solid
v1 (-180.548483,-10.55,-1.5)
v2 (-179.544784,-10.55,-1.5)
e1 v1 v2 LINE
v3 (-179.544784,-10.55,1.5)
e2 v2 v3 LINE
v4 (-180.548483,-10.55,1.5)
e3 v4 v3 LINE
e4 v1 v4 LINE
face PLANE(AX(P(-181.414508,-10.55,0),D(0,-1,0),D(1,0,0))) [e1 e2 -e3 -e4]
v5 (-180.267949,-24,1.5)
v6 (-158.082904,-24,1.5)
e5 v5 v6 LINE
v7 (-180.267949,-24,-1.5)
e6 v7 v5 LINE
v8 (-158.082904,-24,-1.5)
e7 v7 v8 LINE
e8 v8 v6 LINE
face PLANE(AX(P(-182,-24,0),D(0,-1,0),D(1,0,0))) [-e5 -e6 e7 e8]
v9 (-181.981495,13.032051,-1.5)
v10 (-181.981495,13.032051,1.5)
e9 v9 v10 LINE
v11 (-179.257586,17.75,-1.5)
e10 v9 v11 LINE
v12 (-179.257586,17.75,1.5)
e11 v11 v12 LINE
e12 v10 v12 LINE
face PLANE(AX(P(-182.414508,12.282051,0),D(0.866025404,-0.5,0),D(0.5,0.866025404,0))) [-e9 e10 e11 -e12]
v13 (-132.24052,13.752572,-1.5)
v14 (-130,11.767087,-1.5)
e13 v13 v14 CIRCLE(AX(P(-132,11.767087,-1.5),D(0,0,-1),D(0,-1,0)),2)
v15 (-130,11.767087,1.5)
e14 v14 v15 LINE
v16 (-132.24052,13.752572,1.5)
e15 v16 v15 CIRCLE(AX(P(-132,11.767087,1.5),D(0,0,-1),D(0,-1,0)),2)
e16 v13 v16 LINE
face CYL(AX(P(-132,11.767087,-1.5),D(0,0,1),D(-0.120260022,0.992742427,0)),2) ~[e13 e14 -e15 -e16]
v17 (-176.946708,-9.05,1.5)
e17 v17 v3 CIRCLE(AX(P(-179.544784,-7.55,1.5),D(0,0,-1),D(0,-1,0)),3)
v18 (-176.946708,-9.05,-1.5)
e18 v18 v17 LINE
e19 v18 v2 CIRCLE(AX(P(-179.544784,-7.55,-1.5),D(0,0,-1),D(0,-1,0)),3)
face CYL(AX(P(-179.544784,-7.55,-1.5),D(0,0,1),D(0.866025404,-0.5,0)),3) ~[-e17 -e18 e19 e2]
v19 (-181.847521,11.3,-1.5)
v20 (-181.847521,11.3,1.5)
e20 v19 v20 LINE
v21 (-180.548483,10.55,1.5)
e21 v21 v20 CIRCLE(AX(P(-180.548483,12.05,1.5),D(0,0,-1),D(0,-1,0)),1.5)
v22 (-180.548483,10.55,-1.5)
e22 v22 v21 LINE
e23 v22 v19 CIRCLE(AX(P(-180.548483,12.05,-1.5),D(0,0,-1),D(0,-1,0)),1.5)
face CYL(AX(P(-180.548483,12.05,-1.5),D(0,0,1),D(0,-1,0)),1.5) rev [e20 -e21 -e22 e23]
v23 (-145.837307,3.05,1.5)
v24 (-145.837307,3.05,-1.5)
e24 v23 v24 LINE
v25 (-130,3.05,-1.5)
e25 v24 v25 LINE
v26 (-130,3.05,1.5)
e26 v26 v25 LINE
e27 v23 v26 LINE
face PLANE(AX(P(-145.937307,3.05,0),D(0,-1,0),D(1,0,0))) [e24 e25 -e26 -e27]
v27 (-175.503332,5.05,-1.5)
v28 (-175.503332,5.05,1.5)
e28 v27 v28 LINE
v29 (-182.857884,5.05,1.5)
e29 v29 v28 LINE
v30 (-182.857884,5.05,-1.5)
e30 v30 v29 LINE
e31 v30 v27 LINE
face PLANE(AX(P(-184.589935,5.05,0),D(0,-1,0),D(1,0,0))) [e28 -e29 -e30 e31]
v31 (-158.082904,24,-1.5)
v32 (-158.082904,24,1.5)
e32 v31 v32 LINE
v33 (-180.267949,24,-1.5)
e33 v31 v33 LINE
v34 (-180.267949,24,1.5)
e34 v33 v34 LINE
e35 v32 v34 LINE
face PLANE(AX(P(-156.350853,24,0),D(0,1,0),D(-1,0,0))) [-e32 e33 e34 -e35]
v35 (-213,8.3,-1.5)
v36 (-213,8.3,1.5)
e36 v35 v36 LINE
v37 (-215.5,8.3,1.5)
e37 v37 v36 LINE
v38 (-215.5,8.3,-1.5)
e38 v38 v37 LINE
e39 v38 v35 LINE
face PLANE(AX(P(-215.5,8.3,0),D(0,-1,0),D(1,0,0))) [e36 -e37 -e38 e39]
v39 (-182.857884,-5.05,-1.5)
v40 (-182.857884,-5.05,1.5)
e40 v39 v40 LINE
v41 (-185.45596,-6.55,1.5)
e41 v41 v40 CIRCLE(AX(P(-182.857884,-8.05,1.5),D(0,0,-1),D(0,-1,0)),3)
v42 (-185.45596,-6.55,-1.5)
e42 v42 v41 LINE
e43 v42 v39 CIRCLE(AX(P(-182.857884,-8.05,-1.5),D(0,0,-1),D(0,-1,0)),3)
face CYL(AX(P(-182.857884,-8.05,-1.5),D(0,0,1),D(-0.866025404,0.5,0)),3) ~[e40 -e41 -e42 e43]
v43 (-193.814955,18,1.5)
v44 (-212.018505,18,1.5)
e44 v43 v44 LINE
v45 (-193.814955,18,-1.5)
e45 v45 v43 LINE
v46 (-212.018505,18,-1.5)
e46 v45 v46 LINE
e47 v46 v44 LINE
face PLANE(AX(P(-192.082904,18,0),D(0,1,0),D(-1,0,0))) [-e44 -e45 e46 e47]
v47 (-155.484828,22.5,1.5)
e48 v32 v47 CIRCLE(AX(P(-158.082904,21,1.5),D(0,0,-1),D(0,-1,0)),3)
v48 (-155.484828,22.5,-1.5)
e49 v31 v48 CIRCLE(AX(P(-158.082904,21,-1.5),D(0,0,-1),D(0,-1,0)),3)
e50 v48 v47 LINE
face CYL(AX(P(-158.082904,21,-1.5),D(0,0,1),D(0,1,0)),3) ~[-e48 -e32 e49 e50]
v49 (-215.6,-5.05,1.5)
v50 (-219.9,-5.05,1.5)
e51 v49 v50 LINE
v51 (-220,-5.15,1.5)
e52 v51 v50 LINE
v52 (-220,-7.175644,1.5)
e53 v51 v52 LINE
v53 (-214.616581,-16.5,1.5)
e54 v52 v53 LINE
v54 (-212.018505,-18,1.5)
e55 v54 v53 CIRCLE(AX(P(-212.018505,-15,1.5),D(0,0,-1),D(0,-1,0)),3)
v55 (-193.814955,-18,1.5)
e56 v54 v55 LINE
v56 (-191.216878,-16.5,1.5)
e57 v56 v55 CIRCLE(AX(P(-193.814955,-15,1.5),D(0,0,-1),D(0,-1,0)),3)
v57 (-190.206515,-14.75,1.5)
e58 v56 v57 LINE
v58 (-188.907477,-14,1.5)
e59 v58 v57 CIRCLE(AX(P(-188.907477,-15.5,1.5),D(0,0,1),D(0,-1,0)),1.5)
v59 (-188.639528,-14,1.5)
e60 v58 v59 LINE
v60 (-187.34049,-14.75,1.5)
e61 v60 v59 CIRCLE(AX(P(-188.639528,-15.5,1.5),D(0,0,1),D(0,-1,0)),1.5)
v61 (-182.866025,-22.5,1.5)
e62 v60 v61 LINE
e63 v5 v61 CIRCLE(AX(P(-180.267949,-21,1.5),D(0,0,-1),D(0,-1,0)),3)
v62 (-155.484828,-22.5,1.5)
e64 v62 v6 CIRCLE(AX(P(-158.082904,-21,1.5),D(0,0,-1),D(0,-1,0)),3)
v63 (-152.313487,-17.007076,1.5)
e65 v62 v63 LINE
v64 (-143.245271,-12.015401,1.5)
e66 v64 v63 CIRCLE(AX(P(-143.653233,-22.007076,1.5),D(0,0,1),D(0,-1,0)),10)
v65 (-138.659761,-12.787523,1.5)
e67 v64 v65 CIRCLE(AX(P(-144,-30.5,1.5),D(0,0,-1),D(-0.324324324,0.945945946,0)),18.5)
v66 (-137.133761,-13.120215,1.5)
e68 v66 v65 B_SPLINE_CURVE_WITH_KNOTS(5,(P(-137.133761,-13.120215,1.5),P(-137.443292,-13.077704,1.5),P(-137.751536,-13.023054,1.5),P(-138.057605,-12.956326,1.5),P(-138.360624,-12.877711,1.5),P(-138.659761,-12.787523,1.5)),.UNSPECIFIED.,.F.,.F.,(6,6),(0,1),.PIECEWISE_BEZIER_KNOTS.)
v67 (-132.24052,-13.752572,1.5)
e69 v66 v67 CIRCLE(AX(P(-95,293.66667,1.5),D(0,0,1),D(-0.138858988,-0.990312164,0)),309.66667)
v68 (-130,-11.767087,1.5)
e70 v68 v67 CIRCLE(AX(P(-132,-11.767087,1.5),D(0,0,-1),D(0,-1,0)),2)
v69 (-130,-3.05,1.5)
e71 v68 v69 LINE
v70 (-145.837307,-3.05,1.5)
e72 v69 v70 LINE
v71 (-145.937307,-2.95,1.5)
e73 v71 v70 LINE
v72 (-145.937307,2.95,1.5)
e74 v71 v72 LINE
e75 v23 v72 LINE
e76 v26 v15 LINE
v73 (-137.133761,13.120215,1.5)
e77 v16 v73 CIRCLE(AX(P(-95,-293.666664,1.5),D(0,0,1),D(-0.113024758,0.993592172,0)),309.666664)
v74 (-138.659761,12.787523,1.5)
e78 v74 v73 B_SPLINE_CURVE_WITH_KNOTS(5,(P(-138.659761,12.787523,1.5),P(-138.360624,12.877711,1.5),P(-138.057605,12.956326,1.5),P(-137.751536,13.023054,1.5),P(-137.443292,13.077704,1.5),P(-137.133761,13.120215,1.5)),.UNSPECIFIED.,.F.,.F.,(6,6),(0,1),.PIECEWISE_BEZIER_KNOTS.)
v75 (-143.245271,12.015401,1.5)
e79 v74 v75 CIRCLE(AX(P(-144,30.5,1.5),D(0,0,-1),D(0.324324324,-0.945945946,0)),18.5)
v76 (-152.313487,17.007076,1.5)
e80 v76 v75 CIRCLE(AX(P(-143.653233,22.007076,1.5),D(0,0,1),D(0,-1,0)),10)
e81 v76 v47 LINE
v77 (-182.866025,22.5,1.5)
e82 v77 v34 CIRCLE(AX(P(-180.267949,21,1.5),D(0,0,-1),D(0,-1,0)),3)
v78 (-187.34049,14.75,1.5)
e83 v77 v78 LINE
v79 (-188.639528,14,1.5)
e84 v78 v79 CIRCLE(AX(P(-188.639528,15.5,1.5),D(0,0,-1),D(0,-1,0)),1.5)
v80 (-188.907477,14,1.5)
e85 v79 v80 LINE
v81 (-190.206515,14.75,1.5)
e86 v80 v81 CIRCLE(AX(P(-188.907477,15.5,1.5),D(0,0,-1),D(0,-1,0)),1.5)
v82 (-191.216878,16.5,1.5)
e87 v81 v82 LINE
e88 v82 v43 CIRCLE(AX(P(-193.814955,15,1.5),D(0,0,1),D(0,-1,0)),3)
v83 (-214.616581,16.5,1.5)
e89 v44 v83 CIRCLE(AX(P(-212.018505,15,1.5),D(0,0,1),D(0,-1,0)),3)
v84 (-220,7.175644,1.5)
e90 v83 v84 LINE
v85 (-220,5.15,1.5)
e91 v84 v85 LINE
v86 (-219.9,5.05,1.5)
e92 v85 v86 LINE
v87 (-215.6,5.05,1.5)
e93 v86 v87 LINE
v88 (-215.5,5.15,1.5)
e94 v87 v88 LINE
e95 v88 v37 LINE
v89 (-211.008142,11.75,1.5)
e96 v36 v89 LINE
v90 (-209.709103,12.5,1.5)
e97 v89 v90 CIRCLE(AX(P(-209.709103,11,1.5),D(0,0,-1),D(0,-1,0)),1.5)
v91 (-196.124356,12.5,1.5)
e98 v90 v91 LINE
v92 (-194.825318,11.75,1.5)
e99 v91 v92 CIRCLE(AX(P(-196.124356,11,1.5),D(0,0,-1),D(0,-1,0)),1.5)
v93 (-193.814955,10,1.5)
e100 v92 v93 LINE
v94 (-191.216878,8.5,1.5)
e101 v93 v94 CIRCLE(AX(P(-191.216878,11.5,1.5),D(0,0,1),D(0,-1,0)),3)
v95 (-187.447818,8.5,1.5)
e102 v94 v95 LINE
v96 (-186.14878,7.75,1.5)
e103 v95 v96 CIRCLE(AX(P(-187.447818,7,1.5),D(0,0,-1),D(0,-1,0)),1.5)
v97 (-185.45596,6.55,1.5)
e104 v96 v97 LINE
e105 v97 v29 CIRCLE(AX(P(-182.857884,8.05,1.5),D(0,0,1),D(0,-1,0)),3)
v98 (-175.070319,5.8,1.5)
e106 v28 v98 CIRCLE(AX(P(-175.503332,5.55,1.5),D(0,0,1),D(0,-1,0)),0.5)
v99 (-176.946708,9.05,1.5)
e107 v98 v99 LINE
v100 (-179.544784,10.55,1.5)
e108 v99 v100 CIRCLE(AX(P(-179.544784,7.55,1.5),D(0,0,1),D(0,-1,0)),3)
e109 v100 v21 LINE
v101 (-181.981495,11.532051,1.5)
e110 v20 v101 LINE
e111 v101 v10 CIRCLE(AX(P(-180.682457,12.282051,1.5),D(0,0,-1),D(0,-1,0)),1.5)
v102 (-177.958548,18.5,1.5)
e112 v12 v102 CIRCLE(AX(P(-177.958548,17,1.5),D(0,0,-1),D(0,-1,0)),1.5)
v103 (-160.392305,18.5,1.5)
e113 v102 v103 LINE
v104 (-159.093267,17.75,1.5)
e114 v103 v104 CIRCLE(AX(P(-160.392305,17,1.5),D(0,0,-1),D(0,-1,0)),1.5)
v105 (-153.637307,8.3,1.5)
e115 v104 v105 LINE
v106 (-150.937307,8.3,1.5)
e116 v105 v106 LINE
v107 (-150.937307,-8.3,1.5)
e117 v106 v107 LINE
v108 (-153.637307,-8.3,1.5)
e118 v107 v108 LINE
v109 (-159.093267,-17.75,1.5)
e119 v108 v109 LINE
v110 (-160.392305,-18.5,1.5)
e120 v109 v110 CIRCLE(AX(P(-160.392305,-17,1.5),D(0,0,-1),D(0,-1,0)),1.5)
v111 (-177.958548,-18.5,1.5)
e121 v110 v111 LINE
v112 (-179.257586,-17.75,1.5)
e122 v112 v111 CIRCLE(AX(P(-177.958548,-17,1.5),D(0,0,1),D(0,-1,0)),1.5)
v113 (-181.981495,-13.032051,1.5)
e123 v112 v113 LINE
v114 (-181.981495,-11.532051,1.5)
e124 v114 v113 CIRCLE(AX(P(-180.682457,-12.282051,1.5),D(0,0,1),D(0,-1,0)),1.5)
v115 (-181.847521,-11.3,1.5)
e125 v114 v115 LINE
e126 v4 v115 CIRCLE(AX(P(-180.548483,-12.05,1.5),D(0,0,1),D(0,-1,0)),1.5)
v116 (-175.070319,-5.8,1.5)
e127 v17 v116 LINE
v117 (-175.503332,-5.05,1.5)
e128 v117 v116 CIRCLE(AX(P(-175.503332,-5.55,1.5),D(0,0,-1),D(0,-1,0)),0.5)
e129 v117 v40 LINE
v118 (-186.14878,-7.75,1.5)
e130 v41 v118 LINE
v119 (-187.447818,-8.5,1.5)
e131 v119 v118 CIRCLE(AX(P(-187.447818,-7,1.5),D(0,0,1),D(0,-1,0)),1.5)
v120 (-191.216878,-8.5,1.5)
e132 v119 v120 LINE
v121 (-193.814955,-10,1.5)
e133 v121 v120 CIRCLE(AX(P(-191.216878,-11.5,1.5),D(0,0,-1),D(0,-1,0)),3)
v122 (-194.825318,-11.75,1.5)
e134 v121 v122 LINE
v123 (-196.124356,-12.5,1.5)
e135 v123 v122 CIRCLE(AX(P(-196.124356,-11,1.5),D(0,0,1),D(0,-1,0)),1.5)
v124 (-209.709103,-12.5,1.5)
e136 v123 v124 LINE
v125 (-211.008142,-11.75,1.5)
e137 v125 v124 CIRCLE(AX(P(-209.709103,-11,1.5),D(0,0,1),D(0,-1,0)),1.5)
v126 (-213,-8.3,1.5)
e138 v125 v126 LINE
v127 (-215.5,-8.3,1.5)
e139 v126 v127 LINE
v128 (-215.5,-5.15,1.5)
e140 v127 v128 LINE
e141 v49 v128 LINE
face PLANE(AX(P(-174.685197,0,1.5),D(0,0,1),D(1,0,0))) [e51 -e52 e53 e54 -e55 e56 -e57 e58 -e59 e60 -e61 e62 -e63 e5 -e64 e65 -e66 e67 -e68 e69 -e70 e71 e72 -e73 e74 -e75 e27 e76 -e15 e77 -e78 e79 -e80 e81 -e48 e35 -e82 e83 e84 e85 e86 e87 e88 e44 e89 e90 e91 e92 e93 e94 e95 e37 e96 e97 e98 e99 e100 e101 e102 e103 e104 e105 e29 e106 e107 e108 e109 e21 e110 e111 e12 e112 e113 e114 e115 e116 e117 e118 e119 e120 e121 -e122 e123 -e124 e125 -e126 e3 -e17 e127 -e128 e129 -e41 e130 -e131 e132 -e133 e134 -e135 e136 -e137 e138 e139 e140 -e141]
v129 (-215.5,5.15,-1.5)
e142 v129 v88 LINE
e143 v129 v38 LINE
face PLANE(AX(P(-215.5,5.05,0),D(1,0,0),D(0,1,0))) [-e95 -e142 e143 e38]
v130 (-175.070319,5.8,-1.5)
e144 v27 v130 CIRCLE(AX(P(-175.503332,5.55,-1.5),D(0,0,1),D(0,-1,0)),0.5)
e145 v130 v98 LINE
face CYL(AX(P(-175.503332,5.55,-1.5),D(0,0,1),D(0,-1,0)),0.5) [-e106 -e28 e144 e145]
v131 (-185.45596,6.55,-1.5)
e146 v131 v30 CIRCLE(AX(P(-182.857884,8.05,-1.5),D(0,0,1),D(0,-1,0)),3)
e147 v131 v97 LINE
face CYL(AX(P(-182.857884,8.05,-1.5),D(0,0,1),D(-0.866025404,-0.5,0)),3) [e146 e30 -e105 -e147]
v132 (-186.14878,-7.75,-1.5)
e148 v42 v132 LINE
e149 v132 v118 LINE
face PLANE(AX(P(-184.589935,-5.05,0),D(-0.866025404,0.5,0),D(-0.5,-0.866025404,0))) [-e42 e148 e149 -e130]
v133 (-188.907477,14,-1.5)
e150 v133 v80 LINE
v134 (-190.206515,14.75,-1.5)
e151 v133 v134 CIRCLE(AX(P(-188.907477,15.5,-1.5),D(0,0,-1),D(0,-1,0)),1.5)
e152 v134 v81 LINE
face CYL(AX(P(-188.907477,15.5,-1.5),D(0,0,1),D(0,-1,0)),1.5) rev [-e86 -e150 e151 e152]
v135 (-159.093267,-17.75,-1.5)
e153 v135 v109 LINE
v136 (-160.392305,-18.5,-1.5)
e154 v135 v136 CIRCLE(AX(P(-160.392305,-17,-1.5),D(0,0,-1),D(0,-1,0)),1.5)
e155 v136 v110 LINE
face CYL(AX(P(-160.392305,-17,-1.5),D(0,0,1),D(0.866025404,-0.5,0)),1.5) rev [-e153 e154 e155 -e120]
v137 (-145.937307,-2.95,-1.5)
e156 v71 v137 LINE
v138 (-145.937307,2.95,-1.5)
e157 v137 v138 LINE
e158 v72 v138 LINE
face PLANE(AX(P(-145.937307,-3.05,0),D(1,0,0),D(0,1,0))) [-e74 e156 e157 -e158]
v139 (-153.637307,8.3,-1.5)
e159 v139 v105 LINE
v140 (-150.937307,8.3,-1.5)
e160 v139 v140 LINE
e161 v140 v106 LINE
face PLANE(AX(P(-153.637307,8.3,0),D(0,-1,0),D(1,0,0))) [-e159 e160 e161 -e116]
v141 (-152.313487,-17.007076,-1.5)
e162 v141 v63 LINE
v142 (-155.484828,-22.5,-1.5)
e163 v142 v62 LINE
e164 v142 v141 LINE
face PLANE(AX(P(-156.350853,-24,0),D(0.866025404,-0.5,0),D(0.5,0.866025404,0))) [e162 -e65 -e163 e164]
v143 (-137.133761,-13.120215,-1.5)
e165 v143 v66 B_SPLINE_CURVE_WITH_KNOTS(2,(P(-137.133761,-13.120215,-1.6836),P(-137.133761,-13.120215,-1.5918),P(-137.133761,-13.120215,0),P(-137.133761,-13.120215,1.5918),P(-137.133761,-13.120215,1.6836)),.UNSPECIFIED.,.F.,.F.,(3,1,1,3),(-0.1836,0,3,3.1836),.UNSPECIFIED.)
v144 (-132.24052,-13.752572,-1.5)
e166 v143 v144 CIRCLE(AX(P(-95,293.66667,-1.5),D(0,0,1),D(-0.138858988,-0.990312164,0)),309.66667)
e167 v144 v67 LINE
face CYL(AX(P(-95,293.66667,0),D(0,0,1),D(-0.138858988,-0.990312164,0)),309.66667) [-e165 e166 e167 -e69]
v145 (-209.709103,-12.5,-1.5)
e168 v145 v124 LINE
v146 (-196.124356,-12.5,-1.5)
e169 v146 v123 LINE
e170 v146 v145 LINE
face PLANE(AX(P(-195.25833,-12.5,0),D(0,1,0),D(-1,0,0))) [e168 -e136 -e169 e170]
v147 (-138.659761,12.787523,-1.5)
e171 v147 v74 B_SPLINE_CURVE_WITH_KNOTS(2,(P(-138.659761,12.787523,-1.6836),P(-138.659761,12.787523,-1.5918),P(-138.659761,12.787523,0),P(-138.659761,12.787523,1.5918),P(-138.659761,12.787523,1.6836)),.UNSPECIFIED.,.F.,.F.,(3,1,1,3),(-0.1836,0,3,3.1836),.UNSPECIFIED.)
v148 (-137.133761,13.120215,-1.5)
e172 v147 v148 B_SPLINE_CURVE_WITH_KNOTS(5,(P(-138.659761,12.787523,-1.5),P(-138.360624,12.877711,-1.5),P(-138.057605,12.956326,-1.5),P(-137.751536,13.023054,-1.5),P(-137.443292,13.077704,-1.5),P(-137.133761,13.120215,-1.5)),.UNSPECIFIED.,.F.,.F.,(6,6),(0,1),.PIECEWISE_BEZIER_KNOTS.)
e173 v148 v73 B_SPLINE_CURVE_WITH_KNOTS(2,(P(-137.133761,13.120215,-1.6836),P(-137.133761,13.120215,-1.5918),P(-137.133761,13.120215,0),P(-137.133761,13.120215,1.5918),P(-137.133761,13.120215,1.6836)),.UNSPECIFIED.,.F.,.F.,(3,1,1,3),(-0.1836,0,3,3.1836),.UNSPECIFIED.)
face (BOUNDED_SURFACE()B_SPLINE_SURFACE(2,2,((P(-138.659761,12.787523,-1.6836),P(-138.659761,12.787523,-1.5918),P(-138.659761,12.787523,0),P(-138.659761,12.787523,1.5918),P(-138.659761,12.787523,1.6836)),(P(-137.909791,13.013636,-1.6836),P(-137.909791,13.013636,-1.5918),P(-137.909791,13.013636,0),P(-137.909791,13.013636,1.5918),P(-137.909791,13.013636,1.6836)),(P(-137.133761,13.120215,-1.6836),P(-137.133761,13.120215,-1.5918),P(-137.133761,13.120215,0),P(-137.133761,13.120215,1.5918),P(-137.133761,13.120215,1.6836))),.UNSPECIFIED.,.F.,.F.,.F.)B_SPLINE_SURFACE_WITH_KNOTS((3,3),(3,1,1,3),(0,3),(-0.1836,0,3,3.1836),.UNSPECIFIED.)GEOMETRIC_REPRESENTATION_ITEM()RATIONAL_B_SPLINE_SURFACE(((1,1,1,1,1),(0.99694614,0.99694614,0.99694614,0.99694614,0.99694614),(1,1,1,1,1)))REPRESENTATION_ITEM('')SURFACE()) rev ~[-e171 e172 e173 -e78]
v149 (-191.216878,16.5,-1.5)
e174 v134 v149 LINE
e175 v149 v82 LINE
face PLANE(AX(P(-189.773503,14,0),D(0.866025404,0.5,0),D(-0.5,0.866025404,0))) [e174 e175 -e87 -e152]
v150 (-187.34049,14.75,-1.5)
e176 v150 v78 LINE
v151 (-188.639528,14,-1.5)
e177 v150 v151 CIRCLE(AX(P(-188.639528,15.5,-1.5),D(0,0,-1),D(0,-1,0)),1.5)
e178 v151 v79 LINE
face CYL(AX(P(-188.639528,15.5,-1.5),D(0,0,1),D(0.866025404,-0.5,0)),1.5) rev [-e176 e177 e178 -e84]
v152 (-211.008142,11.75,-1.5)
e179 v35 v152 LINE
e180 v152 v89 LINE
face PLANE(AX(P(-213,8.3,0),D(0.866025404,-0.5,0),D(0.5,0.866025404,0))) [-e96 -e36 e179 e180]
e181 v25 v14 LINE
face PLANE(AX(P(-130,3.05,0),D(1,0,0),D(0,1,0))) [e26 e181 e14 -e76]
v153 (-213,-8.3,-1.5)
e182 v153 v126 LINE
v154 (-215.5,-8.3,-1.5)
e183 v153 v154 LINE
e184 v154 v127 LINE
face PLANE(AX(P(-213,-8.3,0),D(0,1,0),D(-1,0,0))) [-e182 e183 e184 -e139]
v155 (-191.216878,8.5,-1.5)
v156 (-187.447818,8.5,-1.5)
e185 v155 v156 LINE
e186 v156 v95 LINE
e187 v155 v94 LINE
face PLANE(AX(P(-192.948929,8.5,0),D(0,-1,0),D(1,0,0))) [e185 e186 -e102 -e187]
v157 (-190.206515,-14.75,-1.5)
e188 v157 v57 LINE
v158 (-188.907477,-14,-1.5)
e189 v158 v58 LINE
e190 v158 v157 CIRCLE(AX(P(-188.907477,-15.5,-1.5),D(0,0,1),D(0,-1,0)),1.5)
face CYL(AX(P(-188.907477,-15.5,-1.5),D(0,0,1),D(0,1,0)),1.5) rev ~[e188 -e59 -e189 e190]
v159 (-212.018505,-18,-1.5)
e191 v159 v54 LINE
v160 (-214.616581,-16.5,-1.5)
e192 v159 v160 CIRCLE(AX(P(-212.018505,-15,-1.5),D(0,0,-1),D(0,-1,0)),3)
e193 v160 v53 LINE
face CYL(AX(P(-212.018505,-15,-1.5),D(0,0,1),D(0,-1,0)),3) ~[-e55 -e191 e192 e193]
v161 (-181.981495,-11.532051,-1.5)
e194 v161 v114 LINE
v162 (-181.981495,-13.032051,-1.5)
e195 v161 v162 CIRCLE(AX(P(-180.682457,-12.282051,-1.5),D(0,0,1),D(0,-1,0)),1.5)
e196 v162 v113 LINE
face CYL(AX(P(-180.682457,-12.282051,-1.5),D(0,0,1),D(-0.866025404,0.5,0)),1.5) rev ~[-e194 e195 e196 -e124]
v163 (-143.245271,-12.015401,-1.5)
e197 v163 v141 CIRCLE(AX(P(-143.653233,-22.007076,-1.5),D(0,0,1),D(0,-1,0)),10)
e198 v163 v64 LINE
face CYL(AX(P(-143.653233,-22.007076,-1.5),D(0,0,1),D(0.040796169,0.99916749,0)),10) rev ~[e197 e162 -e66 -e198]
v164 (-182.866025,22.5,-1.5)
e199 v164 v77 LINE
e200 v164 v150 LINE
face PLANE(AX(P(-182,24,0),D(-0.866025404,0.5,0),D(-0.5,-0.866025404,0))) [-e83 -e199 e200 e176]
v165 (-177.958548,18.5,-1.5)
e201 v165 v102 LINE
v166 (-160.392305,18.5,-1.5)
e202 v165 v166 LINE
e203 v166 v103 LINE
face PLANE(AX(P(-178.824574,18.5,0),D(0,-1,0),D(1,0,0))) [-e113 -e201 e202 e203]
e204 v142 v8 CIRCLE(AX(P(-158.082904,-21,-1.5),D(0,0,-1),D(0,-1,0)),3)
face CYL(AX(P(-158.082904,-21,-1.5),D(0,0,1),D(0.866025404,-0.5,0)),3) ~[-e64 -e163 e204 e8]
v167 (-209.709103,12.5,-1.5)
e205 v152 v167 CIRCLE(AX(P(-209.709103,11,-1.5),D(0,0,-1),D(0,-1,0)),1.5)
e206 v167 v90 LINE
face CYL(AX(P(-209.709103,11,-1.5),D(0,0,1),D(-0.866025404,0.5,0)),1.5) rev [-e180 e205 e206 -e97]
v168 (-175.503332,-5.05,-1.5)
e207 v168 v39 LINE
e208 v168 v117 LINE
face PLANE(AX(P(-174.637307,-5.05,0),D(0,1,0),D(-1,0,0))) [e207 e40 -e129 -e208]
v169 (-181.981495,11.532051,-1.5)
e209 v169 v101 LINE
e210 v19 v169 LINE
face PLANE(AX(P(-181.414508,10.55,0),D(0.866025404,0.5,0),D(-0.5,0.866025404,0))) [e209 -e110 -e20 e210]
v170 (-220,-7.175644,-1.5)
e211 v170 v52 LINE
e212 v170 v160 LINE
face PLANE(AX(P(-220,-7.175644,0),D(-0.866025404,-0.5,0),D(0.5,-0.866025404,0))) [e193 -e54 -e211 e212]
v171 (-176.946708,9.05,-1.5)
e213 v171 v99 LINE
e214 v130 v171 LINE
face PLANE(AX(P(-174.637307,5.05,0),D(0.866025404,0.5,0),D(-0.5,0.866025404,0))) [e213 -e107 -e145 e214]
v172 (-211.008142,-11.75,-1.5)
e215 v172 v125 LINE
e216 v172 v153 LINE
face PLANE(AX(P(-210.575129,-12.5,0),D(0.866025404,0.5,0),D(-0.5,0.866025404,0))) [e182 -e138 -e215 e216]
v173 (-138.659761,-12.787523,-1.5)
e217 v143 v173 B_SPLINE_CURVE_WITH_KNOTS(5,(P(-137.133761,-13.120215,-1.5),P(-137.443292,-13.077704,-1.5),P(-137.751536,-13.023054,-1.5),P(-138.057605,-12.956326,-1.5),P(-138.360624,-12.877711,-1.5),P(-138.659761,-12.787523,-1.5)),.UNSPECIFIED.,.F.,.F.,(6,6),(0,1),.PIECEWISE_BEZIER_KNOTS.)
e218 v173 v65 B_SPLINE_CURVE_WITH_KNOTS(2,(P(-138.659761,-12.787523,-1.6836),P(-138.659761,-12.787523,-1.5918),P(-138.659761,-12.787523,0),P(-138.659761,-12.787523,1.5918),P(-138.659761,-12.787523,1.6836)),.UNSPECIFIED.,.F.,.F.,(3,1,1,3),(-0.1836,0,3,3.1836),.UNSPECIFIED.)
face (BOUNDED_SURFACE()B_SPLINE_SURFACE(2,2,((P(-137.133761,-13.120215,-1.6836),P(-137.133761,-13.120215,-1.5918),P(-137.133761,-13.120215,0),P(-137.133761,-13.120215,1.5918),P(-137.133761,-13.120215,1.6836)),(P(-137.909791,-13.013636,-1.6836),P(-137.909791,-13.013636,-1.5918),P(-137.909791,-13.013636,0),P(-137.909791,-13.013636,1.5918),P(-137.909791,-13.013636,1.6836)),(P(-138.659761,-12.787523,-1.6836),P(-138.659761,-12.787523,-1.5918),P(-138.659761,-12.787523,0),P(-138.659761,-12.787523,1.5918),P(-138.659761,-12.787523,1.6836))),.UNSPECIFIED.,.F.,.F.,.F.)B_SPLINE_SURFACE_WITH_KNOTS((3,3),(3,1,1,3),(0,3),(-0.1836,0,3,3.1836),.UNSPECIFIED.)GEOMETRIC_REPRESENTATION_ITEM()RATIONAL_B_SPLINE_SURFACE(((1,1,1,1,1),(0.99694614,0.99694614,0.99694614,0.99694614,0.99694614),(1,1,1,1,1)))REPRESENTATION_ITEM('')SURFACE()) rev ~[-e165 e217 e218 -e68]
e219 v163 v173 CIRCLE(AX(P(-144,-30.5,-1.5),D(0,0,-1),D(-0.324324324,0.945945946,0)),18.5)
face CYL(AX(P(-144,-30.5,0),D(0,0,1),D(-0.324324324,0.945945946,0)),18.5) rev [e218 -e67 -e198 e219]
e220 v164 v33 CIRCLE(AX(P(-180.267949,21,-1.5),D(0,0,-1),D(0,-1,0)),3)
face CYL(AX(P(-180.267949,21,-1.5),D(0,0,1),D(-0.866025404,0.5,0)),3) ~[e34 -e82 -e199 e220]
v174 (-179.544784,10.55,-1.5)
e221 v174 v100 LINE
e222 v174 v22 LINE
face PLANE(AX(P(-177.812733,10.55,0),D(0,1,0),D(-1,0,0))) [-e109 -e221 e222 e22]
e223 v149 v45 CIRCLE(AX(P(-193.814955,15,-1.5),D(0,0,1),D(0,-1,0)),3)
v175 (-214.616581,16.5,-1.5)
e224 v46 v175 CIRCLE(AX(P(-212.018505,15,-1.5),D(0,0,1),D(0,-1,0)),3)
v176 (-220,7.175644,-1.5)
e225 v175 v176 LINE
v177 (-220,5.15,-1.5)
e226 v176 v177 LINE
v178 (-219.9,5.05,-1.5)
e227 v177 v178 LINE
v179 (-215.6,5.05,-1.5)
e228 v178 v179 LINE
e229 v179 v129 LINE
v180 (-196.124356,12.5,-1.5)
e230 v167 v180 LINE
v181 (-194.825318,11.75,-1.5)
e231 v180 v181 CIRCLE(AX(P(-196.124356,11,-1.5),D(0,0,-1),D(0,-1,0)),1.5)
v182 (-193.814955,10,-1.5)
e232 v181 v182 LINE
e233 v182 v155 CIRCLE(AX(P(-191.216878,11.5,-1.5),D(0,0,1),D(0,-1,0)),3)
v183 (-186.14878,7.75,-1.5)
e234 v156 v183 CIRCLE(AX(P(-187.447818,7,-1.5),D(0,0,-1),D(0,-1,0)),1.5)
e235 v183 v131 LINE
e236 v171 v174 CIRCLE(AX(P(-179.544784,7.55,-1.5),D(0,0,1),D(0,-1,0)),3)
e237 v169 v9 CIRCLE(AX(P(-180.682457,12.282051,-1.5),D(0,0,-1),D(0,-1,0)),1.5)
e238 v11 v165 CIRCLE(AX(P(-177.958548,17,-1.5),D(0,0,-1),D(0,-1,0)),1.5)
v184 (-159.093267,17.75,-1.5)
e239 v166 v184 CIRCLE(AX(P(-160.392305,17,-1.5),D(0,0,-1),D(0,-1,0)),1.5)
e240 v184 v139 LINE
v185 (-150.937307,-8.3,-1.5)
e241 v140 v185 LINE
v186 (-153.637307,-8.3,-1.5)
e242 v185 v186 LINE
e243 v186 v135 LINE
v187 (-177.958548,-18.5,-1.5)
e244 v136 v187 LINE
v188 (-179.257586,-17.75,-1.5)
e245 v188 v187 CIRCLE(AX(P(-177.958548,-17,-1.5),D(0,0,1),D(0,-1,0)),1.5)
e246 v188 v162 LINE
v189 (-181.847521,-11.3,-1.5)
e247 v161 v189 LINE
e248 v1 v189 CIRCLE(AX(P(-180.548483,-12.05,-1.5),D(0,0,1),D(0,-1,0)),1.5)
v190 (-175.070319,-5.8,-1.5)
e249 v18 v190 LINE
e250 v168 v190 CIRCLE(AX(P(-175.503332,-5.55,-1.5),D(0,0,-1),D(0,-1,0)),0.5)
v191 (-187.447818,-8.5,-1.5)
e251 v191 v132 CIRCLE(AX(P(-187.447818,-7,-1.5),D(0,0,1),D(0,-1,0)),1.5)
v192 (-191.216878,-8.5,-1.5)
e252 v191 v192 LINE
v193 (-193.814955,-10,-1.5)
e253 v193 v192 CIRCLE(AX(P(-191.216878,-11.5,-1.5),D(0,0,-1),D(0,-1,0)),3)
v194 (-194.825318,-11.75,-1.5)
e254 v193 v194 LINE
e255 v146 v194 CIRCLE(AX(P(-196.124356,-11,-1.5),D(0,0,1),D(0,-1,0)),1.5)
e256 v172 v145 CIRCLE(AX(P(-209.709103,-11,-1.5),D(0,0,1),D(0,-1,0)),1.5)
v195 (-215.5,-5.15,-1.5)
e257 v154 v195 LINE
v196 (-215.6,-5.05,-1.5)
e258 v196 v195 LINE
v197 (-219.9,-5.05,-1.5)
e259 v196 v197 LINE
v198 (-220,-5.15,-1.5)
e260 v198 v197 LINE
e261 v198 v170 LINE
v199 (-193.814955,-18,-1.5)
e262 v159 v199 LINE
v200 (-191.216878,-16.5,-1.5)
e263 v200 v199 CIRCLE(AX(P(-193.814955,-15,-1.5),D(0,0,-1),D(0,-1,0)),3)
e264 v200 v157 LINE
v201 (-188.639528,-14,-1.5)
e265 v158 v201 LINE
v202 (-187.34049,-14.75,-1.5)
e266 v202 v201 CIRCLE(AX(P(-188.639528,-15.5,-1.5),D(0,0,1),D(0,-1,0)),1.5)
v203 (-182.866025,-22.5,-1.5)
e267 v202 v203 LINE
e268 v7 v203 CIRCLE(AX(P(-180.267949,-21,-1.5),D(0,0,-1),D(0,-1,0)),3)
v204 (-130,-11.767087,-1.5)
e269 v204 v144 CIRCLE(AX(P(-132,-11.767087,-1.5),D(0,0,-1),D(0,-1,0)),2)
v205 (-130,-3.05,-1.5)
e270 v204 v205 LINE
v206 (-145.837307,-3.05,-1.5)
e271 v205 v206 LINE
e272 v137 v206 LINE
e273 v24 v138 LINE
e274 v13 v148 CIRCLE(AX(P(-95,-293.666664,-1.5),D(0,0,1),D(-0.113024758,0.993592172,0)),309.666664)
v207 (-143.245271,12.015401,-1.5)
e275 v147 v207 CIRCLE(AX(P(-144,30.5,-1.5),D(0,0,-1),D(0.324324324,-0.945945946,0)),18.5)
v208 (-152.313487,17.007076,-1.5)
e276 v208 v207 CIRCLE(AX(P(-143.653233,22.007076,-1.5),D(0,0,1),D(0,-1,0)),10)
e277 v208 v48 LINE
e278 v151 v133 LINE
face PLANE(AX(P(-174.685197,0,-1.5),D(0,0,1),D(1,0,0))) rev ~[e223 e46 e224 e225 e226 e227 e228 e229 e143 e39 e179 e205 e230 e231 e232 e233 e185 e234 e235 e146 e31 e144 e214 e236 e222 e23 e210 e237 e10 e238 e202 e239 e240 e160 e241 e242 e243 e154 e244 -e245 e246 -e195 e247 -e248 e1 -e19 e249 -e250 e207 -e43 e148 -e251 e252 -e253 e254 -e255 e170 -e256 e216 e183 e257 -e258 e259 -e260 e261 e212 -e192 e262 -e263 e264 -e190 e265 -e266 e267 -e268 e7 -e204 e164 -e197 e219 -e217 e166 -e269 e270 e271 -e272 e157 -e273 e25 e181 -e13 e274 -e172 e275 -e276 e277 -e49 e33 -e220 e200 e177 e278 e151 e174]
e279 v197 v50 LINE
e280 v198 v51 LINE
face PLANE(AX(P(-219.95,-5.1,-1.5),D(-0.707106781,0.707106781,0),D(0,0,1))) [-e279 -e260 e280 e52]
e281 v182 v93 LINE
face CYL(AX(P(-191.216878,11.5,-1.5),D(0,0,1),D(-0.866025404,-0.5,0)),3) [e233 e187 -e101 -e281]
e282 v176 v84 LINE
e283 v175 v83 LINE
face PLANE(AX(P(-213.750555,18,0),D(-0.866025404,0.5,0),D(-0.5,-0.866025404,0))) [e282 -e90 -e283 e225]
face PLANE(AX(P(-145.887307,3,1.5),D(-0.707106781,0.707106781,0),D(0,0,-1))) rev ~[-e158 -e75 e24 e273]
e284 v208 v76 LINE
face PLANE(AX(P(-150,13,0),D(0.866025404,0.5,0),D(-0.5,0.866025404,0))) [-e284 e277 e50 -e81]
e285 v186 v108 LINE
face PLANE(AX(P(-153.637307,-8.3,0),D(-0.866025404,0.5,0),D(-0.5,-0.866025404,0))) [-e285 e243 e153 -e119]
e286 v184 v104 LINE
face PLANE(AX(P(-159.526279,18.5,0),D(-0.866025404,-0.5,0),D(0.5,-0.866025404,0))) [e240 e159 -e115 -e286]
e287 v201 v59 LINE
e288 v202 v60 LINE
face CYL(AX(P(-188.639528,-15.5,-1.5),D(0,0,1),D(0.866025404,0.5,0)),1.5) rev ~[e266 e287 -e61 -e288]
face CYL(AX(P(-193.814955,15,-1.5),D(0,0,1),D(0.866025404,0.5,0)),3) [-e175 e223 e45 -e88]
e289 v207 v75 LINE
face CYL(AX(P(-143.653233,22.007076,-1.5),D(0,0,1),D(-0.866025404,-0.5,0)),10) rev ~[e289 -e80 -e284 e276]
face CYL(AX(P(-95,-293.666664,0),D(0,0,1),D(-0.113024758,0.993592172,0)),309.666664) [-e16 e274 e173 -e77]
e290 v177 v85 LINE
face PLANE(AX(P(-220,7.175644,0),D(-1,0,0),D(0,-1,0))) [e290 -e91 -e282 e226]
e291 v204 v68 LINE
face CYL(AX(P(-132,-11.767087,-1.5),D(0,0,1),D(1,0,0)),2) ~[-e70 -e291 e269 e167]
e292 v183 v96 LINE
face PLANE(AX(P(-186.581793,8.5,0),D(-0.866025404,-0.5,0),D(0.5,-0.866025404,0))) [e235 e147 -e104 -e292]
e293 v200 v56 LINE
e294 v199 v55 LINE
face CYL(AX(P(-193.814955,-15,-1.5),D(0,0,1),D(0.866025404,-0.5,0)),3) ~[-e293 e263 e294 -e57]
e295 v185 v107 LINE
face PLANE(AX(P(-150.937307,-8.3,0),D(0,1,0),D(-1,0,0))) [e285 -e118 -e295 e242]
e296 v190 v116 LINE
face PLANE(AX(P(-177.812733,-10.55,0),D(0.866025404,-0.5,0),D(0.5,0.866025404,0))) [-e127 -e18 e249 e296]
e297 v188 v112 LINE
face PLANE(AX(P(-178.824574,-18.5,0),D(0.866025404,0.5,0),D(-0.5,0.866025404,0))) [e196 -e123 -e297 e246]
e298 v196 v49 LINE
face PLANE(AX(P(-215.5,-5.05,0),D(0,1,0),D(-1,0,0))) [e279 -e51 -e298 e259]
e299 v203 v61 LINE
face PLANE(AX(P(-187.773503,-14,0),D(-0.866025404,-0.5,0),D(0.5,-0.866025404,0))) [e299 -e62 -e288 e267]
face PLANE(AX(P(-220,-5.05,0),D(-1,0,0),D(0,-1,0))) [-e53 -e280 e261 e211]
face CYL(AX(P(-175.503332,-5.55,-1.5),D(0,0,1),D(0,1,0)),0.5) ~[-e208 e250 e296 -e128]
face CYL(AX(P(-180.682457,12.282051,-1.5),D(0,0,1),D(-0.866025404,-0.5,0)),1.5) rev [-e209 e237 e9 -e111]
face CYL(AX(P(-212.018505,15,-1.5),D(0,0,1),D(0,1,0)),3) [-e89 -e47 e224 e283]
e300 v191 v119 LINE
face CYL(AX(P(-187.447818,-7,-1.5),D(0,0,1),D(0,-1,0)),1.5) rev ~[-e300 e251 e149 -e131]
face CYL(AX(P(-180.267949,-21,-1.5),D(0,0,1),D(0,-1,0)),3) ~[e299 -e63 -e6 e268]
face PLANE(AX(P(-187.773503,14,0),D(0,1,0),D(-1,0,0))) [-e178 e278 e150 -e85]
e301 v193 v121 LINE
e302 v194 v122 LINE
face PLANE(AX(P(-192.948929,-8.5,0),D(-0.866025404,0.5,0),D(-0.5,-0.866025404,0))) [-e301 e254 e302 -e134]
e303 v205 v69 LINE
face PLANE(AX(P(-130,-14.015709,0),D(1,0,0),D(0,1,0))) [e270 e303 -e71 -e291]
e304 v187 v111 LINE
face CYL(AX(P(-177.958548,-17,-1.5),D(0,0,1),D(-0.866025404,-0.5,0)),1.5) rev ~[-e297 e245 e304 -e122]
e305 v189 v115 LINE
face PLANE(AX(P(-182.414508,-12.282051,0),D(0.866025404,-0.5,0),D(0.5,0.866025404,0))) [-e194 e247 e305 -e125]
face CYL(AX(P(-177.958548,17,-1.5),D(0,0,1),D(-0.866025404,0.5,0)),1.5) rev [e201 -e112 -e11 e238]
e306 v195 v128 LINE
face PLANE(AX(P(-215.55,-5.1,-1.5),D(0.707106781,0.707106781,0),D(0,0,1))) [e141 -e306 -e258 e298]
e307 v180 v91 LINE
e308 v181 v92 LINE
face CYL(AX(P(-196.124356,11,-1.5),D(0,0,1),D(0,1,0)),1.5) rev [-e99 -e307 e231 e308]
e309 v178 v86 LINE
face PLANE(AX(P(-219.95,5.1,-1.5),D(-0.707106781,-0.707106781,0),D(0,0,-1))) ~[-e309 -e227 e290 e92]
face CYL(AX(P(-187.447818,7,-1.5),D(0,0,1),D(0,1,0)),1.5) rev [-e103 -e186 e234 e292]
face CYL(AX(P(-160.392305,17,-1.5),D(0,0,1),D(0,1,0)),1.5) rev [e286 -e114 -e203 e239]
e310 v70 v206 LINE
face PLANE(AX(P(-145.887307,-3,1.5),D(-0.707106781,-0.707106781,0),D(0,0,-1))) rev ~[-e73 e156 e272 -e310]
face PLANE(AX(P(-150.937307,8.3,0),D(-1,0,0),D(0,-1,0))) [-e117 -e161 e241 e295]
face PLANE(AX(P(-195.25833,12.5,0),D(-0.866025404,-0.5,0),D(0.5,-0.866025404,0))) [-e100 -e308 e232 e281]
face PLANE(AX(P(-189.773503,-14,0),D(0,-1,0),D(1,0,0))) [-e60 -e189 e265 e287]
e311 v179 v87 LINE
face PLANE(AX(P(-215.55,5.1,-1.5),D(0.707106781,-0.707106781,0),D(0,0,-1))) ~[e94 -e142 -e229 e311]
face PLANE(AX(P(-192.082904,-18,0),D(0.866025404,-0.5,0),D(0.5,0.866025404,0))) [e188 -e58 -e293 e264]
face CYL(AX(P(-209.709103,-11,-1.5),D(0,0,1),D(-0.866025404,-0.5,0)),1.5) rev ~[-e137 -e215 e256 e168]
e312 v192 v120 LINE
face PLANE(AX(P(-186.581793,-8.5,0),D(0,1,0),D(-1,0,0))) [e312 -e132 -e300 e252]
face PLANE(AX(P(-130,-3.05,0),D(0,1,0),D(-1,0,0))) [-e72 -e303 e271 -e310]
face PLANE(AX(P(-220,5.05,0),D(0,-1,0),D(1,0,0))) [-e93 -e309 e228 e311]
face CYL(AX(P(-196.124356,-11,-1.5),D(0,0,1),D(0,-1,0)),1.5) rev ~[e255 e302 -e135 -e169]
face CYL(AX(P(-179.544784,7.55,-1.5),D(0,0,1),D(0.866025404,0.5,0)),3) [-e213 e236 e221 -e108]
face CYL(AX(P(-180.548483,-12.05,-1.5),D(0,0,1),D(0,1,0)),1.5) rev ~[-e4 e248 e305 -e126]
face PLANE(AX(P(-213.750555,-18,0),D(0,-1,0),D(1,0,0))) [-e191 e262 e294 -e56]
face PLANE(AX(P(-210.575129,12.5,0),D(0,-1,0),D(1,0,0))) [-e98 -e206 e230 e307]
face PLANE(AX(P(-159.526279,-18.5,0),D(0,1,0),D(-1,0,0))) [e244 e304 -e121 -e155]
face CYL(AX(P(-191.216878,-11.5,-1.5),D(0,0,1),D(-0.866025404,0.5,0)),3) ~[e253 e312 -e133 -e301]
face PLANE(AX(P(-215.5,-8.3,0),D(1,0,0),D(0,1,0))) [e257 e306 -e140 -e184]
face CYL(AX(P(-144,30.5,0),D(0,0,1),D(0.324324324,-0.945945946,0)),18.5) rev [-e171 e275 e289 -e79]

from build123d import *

# Parameters (mm, degrees)
EXTRUDE_1_DEPTH = 1.5
FILLET_4_R      = 10
FILLET_7_R      = 1.5
FILLET_8_R      = 3
CHAMFER_1_SIZE  = 0.1
FILLET_9_R      = 2
FILLET_10_R     = 0.5


with BuildPart() as part:
    # 草图1 → 凸台-拉伸1 (new, symmetric)
    with BuildSketch(Plane.XY):
        with BuildLine():
            Line((-130, 3.05), (-130, 14.015709242))
            ThreePointArc((-130, 14.015709242), (-134.003306479, 13.533897344), (-138, 13))
            ThreePointArc((-138, 13), (-144, 12.000000001), (-150, 13))
            Line((-150, 13), (-156.350852961, 24))
            Line((-156.350852961, 24), (-182, 24))
            Line((-182, 24), (-187.773502692, 14))
            Line((-187.773502692, 14), (-189.773502692, 14))
            Line((-189.773502692, 14), (-192.082903768, 18))
            Line((-192.082903768, 18), (-213.75055535, 18))
            Line((-213.75055535, 18), (-220, 7.175644347))
            Line((-220, 7.175644347), (-220, 5.05))
            Line((-220, 5.05), (-215.5, 5.05))
            Line((-215.5, 5.05), (-215.5, 8.3))
            Line((-215.5, 8.3), (-213, 8.3))
            Line((-213, 8.3), (-210.575128869, 12.5))
            Line((-210.575128869, 12.5), (-195.258330249, 12.5))
            Line((-195.258330249, 12.5), (-192.948929172, 8.5))
            Line((-192.948929172, 8.5), (-186.581793069, 8.5))
            Line((-186.581793069, 8.5), (-184.58993464, 5.05))
            Line((-184.58993464, 5.05), (-174.637306696, 5.05))
            Line((-174.637306696, 5.05), (-177.812733177, 10.55))
            Line((-177.812733177, 10.55), (-181.41450816, 10.55))
            Line((-181.41450816, 10.55), (-182.41450816, 12.282050807))
            Line((-182.41450816, 12.282050807), (-178.824573519, 18.5))
            Line((-178.824573519, 18.5), (-159.526279442, 18.5))
            Line((-159.526279442, 18.5), (-153.637306696, 8.3))
            Line((-153.637306696, 8.3), (-150.937306696, 8.3))
            Line((-150.937306696, 8.3), (-150.937306696, 3.05))
            Line((-150.937306696, 3.05), (-150.937306696, -3.05))
            Line((-150.937306696, -3.05), (-150.937306696, -8.3))
            Line((-150.937306696, -8.3), (-153.637306696, -8.3))
            Line((-153.637306696, -8.3), (-159.526279442, -18.5))
            Line((-159.526279442, -18.5), (-178.824573519, -18.5))
            Line((-178.824573519, -18.5), (-182.41450816, -12.282050807))
            Line((-182.41450816, -12.282050807), (-181.41450816, -10.55))
            Line((-181.41450816, -10.55), (-177.812733177, -10.55))
            Line((-177.812733177, -10.55), (-174.637306696, -5.05))
            Line((-174.637306696, -5.05), (-184.58993464, -5.05))
            Line((-184.58993464, -5.05), (-186.581793069, -8.5))
            Line((-186.581793069, -8.5), (-192.948929172, -8.5))
            Line((-192.948929172, -8.5), (-195.258330249, -12.5))
            Line((-195.258330249, -12.5), (-210.575128869, -12.5))
            Line((-210.575128869, -12.5), (-213, -8.3))
            Line((-213, -8.3), (-215.5, -8.3))
            Line((-215.5, -8.3), (-215.5, -5.05))
            Line((-215.5, -5.05), (-220, -5.05))
            Line((-220, -5.05), (-220, -7.175644347))
            Line((-220, -7.175644347), (-213.75055535, -18))
            Line((-213.75055535, -18), (-192.082903768, -18))
            Line((-192.082903768, -18), (-189.773502692, -14))
            Line((-189.773502692, -14), (-187.773502692, -14))
            Line((-187.773502692, -14), (-182, -24))
            Line((-182, -24), (-156.350852961, -24))
            Line((-156.350852961, -24), (-150, -13))
            ThreePointArc((-150, -13), (-144, -12), (-138, -13))
            ThreePointArc((-138, -13), (-134.003306479, -13.533897343), (-130, -14.015709241))
            Line((-130, -14.015709242), (-130, -3.05))
            Line((-130, -3.05), (-145.937306696, -3.05))
            Line((-145.937306696, -3.05), (-145.937306696, 3.05))
            Line((-145.937306696, 3.05), (-130, 3.05))
        make_face()
    extrude(amount=EXTRUDE_1_DEPTH, both=True)

    # 圆角4
    fillet_4_edges = [part.edges().sort_by_distance(p)[0] for p in [
        (-138, 13, 0),
        (-138, -13, 0),
        (-150, -13, 0),
        (-150, 13, 0),
    ]]
    fillet(fillet_4_edges, radius=FILLET_4_R)

    # 圆角7
    fillet_7_edges = [part.edges().sort_by_distance(p)[0] for p in [
        (-187.773502692, -14, 0),
        (-189.773502692, -14, 0),
        (-210.575128869, -12.5, 0),
        (-195.258330249, -12.5, 0),
        (-186.581793069, -8.5, 0),
        (-181.41450816, -10.55, 0),
        (-182.41450816, -12.282050807, 0),
        (-178.824573519, -18.5, 0),
        (-159.526279442, -18.5, 0),
        (-159.526279442, 18.5, 0),
        (-178.824573519, 18.5, 0),
        (-182.41450816, 12.282050807, 0),
        (-181.41450816, 10.55, 0),
        (-186.581793069, 8.5, 0),
        (-195.258330249, 12.5, 0),
        (-210.575128869, 12.5, 0),
        (-189.773502692, 14, 0),
        (-187.773502692, 14, 0),
    ]]
    fillet(fillet_7_edges, radius=FILLET_7_R)

    # 圆角8
    fillet_8_edges = [part.edges().sort_by_distance(p)[0] for p in [
        (-156.350852961, -24, 0),
        (-182, -24, 0),
        (-192.082903768, -18, 0),
        (-213.75055535, -18, 0),
        (-192.948929172, -8.5, 0),
        (-184.58993464, -5.05, 0),
        (-177.812733177, -10.55, 0),
        (-177.812733177, 10.55, 0),
        (-184.58993464, 5.05, 0),
        (-192.948929172, 8.5, 0),
        (-213.75055535, 18, 0),
        (-192.082903768, 18, 0),
        (-182, 24, 0),
        (-156.350852961, 24, 0),
    ]]
    fillet(fillet_8_edges, radius=FILLET_8_R)

    # 倒角1
    chamfer_1_edges = [part.edges().sort_by_distance(p)[0] for p in [
        (-145.937306696, 3.05, 0),
        (-145.937306696, -3.05, 0),
        (-220, -5.05, 0),
        (-215.5, -5.05, 0),
        (-215.5, 5.05, 0),
        (-220, 5.05, 0),
    ]]
    chamfer(chamfer_1_edges, length=CHAMFER_1_SIZE)

    # 圆角9
    fillet_9_edges = [part.edges().sort_by_distance(p)[0] for p in [
        (-130, 14.015709242, 0),
        (-130, -14.015709241, 0),
    ]]
    fillet(fillet_9_edges, radius=FILLET_9_R)

    # 圆角10
    fillet_10_edges = [part.edges().sort_by_distance(p)[0] for p in [
        (-174.637306696, -5.05, 0),
        (-174.637306696, 5.05, 0),
    ]]
    fillet(fillet_10_edges, radius=FILLET_10_R)


solid = part.part
